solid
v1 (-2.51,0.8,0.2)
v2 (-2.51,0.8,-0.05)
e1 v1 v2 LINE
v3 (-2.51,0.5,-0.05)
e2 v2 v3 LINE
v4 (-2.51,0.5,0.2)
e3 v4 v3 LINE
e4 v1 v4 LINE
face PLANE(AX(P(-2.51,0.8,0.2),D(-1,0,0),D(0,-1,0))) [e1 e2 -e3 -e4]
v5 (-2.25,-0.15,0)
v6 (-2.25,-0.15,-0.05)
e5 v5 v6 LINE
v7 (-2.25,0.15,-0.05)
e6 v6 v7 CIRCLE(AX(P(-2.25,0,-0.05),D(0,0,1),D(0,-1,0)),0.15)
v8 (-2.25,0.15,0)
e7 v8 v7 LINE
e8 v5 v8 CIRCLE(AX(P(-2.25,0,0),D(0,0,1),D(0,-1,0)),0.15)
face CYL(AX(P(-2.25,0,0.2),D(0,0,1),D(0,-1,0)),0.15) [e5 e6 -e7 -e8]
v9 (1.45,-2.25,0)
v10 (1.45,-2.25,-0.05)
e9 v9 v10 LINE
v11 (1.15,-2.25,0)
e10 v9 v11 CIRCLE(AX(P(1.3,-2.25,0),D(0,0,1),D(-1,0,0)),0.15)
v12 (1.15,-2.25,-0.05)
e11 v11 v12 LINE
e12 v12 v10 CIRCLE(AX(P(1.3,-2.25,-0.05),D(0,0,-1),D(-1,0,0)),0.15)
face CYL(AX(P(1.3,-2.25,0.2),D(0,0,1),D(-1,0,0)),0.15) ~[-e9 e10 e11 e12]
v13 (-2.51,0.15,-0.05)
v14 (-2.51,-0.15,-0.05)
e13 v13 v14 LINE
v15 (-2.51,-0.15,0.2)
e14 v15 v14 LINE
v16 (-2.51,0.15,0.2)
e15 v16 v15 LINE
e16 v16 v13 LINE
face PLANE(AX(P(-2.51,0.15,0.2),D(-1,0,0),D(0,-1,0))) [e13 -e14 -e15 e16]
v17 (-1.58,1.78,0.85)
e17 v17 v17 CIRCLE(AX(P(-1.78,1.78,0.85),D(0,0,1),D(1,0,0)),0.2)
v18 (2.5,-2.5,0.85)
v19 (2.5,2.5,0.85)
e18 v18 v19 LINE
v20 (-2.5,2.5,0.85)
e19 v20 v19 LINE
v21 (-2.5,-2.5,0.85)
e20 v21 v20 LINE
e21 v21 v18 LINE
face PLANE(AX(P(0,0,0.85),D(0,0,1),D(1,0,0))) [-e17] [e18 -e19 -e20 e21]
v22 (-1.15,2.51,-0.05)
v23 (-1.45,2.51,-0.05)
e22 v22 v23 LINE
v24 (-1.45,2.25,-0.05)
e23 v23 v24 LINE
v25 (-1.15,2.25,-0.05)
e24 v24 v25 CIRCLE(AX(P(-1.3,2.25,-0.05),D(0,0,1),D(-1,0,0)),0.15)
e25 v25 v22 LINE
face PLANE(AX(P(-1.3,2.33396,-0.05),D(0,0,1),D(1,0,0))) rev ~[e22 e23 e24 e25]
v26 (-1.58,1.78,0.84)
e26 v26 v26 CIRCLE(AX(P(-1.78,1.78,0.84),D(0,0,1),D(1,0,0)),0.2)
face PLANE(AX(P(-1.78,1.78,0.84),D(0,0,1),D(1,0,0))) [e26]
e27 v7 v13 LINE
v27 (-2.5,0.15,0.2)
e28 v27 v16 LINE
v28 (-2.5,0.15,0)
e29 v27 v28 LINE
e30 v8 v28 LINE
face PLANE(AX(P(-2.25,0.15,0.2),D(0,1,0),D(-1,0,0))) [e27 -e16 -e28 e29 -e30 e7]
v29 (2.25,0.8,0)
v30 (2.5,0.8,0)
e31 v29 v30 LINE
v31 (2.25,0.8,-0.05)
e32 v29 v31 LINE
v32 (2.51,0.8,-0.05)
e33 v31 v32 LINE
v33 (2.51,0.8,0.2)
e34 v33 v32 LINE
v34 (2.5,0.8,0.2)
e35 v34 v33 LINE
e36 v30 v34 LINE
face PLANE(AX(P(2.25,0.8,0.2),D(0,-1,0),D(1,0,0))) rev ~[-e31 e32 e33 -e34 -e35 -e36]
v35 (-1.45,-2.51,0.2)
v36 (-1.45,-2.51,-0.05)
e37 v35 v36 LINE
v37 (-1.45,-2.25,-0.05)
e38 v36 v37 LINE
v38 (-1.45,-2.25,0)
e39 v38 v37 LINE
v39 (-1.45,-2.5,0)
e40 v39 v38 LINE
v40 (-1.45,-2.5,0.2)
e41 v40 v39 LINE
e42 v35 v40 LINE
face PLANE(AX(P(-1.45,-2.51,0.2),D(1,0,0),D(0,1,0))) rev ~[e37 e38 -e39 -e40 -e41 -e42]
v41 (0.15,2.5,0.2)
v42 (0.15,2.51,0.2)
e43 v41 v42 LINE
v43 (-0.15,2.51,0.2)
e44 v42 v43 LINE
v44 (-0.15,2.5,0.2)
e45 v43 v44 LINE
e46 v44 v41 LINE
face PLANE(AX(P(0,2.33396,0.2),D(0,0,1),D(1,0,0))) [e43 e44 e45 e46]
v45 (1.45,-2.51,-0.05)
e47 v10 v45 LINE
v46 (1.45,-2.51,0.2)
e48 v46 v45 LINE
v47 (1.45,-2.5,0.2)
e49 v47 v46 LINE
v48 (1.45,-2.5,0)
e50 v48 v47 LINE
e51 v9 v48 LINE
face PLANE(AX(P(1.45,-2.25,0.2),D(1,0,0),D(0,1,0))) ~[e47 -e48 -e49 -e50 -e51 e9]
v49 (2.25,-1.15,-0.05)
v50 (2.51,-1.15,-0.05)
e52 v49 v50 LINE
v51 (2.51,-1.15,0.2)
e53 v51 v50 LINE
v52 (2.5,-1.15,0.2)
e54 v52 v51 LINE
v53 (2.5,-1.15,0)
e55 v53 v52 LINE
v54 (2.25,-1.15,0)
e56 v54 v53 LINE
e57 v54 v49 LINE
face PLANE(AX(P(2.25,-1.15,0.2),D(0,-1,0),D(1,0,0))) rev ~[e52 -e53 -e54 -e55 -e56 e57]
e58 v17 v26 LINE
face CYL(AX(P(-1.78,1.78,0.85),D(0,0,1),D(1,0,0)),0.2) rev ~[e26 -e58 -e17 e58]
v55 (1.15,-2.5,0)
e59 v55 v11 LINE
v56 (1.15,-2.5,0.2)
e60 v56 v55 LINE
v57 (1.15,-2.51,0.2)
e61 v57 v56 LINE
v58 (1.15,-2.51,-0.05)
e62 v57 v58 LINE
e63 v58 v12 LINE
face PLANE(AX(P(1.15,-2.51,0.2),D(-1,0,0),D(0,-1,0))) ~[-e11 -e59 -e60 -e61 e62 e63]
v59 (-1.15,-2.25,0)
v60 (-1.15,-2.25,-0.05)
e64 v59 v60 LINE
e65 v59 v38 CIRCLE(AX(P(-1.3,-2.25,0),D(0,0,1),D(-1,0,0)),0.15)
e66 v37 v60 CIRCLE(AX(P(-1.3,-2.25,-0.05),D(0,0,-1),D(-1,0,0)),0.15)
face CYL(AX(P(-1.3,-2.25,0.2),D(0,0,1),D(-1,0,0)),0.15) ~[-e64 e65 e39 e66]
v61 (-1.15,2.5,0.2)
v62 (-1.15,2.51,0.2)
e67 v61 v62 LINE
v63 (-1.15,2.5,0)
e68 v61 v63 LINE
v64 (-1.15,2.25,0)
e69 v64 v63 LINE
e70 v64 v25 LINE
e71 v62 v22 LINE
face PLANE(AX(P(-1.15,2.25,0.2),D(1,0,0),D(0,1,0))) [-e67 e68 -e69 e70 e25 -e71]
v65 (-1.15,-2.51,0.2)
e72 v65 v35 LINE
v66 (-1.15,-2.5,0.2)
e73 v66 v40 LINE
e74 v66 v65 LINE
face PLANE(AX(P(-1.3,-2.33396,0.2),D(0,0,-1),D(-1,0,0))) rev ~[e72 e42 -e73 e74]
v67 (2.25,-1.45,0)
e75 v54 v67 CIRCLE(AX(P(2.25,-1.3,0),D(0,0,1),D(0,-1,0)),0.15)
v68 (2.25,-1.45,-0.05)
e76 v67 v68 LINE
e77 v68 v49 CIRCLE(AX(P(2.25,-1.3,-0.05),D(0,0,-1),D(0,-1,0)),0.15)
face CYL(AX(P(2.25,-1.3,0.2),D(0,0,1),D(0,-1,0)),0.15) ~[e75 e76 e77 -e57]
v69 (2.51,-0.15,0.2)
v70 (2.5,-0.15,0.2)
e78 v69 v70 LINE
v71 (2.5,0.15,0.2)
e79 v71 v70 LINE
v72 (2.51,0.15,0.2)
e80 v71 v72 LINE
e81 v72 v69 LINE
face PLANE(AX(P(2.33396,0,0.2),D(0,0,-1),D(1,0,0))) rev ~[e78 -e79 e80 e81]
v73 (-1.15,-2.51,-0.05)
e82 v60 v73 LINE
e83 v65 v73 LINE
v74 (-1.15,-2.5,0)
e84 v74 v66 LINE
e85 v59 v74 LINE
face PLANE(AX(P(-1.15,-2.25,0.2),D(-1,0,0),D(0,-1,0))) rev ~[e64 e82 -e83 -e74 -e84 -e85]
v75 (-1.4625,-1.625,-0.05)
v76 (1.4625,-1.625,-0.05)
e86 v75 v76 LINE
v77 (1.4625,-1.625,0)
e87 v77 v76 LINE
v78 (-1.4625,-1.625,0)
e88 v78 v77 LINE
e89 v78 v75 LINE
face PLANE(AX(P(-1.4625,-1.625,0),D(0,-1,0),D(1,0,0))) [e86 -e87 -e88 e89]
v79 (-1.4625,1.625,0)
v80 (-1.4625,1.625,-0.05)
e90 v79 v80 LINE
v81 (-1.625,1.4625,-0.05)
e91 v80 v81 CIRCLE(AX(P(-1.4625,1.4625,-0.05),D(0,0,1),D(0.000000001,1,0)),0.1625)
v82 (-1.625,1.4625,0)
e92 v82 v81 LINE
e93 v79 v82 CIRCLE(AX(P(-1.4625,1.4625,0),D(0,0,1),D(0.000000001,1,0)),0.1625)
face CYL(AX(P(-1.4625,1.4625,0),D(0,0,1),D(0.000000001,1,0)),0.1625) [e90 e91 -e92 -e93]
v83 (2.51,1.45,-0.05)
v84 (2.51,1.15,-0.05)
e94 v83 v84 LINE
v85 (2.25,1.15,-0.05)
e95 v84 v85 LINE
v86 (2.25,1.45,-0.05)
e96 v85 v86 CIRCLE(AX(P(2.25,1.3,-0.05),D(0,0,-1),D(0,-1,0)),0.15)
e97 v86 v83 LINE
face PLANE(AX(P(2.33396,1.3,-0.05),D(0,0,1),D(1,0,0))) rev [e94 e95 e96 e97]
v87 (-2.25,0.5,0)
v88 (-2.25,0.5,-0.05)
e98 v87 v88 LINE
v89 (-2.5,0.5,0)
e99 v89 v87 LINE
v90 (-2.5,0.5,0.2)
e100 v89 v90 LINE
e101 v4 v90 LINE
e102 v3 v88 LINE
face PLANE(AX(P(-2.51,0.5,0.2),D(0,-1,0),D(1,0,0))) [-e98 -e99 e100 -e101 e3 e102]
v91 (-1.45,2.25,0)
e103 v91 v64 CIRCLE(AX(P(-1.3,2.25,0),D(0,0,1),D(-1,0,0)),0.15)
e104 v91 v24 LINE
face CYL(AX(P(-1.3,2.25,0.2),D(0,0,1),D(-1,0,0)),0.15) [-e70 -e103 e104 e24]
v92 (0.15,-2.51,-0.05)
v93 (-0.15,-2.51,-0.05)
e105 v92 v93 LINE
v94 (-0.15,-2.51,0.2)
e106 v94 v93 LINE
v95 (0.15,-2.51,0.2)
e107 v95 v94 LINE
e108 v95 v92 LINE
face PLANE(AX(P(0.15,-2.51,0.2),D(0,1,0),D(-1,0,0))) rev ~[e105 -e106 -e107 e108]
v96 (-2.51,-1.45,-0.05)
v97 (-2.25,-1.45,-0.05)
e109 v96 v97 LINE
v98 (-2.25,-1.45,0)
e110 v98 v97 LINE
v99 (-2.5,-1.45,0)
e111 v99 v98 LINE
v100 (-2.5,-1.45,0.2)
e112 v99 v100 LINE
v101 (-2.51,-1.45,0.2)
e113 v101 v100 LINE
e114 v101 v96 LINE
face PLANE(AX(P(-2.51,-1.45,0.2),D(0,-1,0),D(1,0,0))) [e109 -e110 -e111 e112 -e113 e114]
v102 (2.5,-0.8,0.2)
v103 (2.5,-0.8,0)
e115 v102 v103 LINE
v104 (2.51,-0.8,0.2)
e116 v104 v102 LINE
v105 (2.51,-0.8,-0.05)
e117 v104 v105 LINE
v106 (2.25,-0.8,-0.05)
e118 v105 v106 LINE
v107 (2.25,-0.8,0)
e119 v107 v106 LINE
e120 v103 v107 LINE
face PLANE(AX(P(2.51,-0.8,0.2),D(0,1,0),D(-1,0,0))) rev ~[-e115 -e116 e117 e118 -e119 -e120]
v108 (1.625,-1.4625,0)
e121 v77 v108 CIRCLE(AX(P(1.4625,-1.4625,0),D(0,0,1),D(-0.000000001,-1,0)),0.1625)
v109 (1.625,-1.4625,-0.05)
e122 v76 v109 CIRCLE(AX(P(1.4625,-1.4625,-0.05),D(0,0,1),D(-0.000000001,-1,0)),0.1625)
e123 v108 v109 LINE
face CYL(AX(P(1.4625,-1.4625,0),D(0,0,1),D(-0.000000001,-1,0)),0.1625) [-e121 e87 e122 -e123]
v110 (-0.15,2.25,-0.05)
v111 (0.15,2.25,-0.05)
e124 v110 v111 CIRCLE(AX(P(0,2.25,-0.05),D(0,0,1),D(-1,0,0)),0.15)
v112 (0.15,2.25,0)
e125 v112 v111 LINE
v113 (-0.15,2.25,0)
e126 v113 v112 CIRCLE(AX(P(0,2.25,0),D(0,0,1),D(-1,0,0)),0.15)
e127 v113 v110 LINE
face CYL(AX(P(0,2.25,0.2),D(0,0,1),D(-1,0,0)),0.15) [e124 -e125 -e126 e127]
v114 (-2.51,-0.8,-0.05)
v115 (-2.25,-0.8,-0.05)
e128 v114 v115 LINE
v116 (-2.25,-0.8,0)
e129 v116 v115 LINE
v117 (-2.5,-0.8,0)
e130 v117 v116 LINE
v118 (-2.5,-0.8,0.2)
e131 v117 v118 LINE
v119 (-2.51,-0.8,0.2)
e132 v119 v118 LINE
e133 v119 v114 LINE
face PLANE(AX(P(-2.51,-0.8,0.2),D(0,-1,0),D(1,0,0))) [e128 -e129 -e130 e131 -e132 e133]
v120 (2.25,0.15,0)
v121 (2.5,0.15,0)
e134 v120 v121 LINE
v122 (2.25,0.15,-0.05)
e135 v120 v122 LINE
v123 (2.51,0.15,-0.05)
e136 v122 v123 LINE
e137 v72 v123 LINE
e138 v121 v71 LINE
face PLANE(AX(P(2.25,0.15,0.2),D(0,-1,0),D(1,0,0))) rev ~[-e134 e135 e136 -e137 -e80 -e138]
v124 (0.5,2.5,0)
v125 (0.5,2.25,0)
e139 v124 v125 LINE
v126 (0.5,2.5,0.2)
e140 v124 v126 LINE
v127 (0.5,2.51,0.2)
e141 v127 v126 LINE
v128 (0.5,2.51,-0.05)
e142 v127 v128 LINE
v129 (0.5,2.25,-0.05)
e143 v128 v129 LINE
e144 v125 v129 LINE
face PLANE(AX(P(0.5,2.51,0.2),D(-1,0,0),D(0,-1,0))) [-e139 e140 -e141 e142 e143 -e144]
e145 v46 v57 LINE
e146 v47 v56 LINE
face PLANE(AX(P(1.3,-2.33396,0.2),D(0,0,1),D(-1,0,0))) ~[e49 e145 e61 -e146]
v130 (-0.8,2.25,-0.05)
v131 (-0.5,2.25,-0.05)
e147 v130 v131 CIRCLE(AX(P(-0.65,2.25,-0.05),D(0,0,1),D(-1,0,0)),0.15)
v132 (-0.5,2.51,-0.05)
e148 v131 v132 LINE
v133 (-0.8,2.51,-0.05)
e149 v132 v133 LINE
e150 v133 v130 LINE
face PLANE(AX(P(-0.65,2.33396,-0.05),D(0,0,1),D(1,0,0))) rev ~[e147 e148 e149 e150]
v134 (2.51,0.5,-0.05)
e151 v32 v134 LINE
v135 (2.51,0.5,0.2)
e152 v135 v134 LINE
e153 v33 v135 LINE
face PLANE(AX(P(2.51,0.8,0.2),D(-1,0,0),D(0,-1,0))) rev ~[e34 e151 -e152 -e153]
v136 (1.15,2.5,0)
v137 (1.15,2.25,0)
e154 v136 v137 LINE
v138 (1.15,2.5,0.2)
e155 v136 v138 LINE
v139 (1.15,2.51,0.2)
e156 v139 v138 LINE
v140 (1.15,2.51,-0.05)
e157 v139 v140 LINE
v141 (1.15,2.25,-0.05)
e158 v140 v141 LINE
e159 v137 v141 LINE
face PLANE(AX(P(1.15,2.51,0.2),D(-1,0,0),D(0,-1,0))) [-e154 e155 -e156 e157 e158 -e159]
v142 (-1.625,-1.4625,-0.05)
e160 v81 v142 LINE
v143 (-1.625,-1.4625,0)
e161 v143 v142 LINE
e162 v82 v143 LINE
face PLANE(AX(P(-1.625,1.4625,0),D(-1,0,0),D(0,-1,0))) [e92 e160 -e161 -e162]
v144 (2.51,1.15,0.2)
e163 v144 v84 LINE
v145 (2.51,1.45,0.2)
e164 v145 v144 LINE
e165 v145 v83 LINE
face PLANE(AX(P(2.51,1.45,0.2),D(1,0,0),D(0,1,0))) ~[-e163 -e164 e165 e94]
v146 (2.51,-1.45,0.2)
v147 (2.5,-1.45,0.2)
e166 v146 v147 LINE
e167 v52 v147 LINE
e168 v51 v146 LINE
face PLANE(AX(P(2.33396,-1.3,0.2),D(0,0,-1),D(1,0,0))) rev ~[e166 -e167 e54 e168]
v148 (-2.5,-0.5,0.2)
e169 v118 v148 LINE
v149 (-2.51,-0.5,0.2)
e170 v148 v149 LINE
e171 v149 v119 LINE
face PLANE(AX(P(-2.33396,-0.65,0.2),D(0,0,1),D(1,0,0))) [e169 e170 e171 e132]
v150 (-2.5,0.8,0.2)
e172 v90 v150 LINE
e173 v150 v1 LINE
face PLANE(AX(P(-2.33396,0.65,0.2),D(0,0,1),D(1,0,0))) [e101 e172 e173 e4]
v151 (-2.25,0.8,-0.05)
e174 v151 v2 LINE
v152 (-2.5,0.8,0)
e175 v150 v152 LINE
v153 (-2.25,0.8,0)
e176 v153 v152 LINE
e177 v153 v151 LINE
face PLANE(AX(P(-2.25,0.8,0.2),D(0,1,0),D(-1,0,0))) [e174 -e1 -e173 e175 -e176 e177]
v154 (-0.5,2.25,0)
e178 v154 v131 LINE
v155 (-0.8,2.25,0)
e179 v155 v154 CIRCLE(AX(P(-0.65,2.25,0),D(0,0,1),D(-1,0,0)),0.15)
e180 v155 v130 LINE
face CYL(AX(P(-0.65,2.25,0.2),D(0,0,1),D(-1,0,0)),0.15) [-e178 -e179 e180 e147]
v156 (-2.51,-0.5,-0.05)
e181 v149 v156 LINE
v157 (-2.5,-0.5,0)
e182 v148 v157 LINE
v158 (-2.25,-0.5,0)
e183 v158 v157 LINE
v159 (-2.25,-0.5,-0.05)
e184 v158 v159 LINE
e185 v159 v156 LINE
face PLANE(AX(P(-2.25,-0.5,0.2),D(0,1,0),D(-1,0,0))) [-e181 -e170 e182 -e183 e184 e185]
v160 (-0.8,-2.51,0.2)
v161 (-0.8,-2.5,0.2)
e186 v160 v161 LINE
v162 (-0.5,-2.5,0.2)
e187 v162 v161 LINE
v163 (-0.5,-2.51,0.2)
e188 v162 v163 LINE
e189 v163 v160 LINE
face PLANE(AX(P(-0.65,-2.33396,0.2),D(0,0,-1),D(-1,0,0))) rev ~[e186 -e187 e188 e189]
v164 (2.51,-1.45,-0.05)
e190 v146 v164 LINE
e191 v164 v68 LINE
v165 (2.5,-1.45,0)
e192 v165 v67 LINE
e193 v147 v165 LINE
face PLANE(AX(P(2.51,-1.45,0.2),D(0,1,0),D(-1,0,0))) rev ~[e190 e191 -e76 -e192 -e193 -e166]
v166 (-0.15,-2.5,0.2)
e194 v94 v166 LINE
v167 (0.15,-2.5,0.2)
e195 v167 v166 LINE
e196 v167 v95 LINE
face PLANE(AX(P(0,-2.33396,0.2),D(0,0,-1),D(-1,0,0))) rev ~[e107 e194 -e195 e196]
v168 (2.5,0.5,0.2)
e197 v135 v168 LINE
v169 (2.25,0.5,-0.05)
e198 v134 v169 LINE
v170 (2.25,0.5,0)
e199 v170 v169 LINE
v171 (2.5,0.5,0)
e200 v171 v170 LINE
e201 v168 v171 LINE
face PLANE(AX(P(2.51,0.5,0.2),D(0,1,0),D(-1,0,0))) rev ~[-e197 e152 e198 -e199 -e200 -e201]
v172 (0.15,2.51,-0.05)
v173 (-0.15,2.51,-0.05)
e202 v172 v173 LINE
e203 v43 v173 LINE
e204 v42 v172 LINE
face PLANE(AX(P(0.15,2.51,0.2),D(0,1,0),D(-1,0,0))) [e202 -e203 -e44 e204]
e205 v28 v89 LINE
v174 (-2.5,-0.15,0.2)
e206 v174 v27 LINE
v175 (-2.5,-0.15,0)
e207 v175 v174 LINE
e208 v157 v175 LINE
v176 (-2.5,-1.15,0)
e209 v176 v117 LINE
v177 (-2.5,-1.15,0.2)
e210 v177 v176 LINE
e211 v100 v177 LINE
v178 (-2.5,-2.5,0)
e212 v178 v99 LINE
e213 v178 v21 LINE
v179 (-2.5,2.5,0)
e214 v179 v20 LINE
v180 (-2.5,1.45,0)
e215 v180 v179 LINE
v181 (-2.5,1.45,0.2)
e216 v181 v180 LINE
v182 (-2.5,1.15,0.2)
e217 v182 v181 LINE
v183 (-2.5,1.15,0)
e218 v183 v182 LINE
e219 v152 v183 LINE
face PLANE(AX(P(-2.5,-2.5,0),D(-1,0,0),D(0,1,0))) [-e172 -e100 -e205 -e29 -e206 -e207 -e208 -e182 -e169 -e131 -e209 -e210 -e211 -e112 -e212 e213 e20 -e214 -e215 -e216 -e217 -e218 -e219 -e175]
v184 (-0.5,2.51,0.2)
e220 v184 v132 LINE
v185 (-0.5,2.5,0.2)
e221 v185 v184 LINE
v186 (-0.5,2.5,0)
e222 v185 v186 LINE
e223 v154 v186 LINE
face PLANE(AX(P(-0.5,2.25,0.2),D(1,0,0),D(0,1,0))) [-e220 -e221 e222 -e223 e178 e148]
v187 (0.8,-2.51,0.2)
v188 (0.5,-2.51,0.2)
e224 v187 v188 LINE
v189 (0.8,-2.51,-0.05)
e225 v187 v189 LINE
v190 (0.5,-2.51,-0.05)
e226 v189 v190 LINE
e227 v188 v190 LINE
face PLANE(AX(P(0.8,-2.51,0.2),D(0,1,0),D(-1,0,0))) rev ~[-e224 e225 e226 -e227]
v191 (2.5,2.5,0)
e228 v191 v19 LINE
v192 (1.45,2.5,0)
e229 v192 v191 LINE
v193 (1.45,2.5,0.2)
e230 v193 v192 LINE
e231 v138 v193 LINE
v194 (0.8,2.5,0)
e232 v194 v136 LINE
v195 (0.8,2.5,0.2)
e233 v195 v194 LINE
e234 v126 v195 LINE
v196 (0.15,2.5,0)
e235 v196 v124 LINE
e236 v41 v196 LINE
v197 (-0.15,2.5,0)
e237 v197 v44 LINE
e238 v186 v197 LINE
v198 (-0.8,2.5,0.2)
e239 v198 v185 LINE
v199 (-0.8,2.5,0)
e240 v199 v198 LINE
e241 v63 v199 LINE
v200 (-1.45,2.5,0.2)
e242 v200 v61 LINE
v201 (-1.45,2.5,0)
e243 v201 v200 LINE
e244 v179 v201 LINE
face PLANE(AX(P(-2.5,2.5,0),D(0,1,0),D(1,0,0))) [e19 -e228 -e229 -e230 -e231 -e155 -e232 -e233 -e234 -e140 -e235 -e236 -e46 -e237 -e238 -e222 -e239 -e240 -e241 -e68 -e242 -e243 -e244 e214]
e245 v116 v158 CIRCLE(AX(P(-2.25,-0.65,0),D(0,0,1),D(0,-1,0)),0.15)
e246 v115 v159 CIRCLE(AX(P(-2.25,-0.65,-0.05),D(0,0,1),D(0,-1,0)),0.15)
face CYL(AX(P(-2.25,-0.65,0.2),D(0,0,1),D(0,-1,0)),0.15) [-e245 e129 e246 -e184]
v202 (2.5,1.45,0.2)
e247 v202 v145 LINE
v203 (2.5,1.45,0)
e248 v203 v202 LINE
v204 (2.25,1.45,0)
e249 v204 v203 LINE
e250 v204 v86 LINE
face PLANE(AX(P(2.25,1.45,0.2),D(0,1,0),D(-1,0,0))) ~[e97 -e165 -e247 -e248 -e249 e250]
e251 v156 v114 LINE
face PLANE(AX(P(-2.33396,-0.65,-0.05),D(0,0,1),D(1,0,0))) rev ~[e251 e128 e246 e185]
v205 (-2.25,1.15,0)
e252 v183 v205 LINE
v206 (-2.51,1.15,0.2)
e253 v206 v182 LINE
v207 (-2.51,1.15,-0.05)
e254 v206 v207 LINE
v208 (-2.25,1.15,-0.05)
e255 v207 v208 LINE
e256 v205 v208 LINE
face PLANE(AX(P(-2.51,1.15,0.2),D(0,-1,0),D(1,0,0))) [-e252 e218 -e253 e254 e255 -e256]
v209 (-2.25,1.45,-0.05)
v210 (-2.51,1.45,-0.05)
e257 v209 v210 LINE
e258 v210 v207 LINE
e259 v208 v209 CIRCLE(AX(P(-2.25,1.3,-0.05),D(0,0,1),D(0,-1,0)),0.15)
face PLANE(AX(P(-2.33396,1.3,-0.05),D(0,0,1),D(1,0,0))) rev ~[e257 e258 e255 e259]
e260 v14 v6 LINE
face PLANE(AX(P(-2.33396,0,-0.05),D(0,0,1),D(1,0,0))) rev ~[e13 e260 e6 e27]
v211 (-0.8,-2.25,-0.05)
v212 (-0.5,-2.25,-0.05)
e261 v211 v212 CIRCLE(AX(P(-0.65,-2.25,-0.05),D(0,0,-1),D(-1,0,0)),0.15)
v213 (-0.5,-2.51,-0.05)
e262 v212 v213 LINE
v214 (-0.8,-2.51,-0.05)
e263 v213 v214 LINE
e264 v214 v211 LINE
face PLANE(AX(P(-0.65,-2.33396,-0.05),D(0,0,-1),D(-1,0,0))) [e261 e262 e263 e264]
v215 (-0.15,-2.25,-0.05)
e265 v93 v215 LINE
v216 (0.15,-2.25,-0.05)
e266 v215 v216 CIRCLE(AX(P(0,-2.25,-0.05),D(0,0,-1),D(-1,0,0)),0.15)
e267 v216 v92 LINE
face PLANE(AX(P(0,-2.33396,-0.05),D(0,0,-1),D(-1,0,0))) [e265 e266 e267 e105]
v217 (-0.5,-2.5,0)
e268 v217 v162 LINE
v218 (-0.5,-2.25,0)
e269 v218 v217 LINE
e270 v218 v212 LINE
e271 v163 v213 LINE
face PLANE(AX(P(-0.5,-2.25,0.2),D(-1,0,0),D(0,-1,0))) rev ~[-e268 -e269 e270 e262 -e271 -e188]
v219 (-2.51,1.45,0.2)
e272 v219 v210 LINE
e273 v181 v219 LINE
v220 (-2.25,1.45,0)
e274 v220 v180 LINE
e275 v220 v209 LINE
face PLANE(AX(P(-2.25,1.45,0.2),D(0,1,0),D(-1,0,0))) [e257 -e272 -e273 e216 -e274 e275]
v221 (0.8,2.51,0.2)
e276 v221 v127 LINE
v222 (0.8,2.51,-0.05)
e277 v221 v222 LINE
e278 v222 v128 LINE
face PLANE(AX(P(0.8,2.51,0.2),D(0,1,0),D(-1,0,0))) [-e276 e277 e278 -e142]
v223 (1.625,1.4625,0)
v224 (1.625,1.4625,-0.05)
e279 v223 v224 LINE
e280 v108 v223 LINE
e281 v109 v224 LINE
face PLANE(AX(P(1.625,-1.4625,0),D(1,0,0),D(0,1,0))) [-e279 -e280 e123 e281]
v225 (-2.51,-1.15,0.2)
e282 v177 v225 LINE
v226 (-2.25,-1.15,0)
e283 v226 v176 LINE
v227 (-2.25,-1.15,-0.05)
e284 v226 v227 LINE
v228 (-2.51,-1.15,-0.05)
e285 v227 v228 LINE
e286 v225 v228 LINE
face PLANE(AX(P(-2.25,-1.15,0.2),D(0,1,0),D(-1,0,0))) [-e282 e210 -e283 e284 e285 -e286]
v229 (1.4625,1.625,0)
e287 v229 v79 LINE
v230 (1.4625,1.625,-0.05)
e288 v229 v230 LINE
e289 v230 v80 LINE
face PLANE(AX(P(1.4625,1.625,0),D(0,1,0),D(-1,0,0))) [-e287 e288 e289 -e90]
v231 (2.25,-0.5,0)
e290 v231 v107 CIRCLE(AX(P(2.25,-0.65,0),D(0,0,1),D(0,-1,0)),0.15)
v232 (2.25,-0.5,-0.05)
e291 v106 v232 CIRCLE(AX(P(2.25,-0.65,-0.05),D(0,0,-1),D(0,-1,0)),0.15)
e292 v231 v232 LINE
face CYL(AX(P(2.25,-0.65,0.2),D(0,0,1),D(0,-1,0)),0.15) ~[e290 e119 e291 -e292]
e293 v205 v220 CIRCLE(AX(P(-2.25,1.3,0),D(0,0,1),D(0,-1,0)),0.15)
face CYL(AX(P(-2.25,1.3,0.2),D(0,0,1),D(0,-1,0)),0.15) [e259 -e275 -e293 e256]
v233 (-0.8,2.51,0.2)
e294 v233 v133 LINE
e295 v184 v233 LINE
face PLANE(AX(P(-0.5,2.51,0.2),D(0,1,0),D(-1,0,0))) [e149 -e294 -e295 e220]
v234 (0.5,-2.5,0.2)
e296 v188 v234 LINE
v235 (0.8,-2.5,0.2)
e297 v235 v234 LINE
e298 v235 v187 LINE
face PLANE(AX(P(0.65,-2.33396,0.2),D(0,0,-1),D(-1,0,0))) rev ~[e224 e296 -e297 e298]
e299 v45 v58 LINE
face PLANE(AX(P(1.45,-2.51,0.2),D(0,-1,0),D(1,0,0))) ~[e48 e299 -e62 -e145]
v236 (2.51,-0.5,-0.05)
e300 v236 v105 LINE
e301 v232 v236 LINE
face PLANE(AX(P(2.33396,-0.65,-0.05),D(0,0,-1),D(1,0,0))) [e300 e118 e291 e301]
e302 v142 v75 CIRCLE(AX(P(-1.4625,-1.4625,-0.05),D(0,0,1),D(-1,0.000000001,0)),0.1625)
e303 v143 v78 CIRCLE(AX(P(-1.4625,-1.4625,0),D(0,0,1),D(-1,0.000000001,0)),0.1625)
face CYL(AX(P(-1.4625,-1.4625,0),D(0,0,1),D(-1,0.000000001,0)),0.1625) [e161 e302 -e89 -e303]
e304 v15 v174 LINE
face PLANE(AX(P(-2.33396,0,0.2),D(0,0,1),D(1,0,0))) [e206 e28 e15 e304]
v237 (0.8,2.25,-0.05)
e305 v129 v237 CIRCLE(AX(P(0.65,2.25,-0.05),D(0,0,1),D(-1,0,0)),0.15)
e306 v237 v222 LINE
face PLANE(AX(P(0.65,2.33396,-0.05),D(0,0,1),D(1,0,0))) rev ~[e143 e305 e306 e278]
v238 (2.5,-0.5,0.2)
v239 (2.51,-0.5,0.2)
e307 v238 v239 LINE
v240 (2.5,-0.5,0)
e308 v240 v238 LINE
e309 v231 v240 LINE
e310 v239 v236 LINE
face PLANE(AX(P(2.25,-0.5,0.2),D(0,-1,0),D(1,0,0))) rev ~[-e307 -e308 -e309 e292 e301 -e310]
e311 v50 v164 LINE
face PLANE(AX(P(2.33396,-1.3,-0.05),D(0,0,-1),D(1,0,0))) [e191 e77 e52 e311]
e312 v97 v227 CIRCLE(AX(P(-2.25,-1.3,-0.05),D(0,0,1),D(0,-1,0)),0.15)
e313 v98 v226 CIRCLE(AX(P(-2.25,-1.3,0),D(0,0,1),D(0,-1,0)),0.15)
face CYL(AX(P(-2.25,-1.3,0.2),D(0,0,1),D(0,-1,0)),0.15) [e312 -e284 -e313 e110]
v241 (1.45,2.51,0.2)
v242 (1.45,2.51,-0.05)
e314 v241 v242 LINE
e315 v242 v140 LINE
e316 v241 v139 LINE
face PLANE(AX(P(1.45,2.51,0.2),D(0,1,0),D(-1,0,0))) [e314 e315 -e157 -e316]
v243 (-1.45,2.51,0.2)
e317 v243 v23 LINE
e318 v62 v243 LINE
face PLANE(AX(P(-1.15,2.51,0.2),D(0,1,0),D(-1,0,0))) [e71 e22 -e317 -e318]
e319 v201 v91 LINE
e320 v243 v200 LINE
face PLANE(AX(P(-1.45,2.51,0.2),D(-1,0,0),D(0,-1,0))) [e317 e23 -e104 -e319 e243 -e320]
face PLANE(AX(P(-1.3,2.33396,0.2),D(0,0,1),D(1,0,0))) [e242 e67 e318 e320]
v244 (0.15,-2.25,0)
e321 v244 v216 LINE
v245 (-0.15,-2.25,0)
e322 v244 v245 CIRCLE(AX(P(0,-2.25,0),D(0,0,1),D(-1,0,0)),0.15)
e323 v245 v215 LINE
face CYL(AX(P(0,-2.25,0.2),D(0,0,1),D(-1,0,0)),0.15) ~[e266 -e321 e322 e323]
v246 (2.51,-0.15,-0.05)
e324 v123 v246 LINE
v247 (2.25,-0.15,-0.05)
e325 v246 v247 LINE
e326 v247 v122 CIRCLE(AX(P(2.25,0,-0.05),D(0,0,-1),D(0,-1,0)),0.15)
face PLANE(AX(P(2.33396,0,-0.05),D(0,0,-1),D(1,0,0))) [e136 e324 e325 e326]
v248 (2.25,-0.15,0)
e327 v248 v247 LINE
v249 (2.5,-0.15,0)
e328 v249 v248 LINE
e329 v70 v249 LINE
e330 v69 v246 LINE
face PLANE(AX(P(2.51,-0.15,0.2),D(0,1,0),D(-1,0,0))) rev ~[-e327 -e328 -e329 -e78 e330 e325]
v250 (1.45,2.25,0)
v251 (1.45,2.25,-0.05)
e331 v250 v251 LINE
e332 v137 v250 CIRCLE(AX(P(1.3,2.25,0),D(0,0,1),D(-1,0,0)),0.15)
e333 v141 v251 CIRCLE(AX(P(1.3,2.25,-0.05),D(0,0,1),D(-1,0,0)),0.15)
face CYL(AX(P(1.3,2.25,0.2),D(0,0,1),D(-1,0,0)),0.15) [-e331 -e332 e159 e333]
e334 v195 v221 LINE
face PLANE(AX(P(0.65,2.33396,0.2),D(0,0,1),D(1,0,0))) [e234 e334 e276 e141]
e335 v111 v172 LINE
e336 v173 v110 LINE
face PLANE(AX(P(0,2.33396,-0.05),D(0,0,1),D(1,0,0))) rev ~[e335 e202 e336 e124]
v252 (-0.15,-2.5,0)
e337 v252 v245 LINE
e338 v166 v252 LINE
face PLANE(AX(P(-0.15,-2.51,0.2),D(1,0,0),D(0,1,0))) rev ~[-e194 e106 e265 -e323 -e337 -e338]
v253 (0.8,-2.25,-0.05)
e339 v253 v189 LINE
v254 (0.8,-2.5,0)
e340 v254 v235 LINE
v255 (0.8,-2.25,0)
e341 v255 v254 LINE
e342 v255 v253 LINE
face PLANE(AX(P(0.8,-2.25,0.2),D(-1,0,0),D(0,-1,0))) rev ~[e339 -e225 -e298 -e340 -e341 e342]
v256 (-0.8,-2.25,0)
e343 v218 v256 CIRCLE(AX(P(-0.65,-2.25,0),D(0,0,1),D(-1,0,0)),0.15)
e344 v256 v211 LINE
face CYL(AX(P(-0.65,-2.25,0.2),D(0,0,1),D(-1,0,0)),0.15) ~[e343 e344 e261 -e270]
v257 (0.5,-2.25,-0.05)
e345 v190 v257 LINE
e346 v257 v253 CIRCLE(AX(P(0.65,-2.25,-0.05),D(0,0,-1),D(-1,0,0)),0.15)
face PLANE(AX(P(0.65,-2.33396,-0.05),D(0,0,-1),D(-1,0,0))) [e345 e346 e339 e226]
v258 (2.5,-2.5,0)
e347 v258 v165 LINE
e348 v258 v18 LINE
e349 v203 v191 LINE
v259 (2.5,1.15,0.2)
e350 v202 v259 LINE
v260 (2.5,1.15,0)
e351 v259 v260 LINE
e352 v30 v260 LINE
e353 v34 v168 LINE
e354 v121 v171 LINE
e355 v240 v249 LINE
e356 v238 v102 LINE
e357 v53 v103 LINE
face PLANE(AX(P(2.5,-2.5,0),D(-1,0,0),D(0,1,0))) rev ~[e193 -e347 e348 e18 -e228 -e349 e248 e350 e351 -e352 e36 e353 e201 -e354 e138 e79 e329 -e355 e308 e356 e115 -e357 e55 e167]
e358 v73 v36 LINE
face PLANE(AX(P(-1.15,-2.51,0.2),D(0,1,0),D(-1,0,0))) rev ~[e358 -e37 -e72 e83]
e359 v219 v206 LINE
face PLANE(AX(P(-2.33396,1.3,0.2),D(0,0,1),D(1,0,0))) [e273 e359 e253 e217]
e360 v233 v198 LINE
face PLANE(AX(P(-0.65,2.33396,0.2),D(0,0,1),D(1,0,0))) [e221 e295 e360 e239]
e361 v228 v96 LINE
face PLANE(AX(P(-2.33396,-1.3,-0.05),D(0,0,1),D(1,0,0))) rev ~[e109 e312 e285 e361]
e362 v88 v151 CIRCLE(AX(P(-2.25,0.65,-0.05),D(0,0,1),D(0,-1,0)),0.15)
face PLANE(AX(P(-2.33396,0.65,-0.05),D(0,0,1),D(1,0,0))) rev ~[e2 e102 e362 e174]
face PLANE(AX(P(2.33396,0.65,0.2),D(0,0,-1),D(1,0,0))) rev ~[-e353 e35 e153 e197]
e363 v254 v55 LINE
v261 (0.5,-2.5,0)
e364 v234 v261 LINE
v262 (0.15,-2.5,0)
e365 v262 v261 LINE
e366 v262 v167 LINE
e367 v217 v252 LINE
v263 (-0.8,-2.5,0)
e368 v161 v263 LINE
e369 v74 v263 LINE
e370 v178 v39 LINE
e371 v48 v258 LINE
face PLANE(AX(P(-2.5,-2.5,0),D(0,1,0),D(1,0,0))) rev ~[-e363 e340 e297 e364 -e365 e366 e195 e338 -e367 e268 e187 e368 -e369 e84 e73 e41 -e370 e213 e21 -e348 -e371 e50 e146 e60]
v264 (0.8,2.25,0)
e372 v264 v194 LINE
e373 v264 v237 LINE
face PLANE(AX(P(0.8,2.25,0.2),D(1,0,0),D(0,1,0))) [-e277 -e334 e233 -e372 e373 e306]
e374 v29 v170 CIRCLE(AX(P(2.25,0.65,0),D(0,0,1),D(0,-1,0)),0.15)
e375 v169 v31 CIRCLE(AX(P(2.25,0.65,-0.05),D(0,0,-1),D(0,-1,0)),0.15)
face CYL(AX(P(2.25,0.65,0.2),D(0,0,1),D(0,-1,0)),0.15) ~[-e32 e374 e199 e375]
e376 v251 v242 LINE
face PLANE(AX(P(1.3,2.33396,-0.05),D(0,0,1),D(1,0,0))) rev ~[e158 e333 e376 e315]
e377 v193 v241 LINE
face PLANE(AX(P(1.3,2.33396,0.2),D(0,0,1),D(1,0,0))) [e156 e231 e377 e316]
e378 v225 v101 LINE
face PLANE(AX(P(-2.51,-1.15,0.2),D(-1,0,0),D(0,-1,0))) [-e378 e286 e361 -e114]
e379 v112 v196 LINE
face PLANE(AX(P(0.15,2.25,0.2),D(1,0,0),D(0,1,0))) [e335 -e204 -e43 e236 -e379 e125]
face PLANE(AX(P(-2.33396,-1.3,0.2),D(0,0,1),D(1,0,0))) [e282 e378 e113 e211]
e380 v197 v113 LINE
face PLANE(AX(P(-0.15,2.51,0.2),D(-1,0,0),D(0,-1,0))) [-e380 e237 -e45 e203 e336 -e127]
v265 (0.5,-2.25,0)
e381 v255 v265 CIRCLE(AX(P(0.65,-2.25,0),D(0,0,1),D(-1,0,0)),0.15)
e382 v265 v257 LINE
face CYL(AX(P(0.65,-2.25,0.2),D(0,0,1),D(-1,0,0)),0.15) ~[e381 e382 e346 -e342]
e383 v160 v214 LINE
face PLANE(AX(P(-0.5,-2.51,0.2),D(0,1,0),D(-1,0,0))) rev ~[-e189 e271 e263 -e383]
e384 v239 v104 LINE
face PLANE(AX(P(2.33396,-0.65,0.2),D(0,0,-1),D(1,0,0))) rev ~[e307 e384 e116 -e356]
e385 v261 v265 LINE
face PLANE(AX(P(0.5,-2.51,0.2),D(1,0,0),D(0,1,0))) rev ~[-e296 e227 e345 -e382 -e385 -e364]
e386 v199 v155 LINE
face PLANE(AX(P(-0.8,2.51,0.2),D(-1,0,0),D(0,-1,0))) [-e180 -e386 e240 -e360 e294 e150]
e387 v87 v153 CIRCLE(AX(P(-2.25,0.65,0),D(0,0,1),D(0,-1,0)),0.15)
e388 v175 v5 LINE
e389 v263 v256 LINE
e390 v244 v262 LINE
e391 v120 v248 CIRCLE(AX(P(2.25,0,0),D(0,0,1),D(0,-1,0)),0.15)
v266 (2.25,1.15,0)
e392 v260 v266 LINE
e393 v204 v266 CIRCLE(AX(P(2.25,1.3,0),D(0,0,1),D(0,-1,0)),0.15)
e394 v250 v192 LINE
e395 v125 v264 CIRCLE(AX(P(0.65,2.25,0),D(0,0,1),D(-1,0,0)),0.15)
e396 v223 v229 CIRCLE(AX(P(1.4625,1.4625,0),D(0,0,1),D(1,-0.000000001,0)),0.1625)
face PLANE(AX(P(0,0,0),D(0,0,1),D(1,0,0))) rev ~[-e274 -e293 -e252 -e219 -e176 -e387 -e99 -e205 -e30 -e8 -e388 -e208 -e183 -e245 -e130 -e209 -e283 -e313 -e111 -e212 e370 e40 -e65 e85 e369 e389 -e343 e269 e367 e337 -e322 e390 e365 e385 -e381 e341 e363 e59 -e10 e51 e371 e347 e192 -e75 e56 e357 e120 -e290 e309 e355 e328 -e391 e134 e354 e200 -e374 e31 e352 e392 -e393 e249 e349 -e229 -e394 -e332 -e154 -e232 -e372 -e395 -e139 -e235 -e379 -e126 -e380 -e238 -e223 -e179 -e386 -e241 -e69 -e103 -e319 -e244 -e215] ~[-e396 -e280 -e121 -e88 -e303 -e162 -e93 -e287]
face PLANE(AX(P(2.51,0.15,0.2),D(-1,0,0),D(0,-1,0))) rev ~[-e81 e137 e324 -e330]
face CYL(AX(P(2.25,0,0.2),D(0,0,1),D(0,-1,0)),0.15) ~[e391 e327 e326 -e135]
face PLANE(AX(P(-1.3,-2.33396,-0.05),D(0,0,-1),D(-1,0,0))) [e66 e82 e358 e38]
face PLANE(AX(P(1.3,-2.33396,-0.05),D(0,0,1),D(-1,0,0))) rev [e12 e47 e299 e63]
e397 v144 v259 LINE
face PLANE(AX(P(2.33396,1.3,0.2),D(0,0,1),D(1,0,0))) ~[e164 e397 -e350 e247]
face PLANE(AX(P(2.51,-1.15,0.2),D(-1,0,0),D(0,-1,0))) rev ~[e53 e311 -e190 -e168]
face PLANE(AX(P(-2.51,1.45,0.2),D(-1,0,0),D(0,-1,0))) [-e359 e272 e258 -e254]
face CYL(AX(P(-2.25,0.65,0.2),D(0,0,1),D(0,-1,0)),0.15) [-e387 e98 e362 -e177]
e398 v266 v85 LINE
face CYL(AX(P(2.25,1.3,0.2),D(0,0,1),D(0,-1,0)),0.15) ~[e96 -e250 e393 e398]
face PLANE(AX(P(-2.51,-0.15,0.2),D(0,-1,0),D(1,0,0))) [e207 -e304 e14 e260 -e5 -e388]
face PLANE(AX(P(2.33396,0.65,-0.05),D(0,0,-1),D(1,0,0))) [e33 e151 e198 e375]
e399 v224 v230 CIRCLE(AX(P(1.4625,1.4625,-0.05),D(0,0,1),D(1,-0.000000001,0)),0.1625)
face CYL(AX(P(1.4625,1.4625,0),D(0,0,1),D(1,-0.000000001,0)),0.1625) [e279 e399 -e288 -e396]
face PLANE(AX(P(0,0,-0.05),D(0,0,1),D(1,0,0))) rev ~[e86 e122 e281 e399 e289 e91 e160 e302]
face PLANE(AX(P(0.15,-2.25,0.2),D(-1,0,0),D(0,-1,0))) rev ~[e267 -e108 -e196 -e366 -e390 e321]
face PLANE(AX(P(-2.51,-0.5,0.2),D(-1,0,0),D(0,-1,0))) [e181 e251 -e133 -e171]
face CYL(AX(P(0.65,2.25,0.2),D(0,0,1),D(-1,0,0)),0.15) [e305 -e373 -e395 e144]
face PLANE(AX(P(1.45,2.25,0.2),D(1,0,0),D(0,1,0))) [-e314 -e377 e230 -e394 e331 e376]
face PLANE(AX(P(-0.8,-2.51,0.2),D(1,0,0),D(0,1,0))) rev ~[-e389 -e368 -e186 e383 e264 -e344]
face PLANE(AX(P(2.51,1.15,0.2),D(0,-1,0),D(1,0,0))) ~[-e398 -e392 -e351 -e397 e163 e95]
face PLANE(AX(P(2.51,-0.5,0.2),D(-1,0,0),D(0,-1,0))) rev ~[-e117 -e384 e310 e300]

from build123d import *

# Parameters (mm, degrees)
SKETCH1_W            = 5
SKETCH1_H            = 5
BOSS_EXTRUDE1_DEPTH  = 0.85
SKETCH2_R            = 0.2
CUT_EXTRUDE1_DEPTH   = 0.01
BOSS_EXTRUDE2_DEPTH  = 0.05
BOSS_EXTRUDE3_START  = -0.2
BOSS_EXTRUDE3_DEPTH  = 0.25
LPATTERN1_COUNT      = 5
LPATTERN1_PITCH      = 0.65
MIRROR1_START        = -0.2
MIRROR1_COPY_1_DEPTH = 0.25
MIRROR1_COPY_2_DEPTH = 0.25
MIRROR1_COPY_3_DEPTH = 0.25
MIRROR1_COPY_4_DEPTH = 0.25
BOSS_EXTRUDE4_START  = -0.2
BOSS_EXTRUDE4_DEPTH  = 0.25
LPATTERN2_COUNT      = 5
LPATTERN2_PITCH      = 0.65
MIRROR2_START        = -0.2
MIRROR2_COPY_1_DEPTH = 0.25
MIRROR2_COPY_2_DEPTH = 0.25
MIRROR2_COPY_3_DEPTH = 0.25
MIRROR2_COPY_4_DEPTH = 0.25


with BuildPart() as part:
    # Sketch1 → Boss-Extrude1 (new body)
    with BuildSketch(Plane.XY):
        Rectangle(SKETCH1_W, SKETCH1_H)
    extrude(amount=BOSS_EXTRUDE1_DEPTH)

    # Sketch2 → Cut-Extrude1 (cut)
    with BuildSketch(Plane.XY.offset(0.85)):
        with Locations((-1.78, 1.78)):
            Circle(SKETCH2_R)
    extrude(amount=-CUT_EXTRUDE1_DEPTH, mode=Mode.SUBTRACT)

    # Sketch3 → Boss-Extrude2 (add)
    with BuildSketch(Plane(origin=(0, 0, 0), x_dir=(-1, 0, 0), z_dir=(0, 0, -1))):
        with BuildLine():
            Line((1.4625, -1.625), (-1.4625, -1.625))
            ThreePointArc((-1.4625, -1.625), (-1.577404852, -1.577404852), (-1.625, -1.4625))
            Line((-1.625, -1.4625), (-1.625, 1.4625))
            ThreePointArc((-1.625, 1.4625), (-1.577404852, 1.577404852), (-1.4625, 1.625))
            Line((-1.4625, 1.625), (1.4625, 1.625))
            ThreePointArc((1.4625, 1.625), (1.577404852, 1.577404852), (1.625, 1.4625))
            Line((1.625, 1.4625), (1.625, -1.4625))
            ThreePointArc((1.625, -1.4625), (1.577404852, -1.577404852), (1.4625, -1.625))
        make_face()
    extrude(amount=BOSS_EXTRUDE2_DEPTH)

    # Sketch5 → Boss-Extrude3 (add)
    with BuildSketch(Plane(origin=(0, 0, 0), x_dir=(-1, 0, 0), z_dir=(0, 0, -1)).offset(BOSS_EXTRUDE3_START)):
        with BuildLine():
            Line((2.25, 1.45), (2.5, 1.45))
            Line((2.5, 1.45), (2.51, 1.45))
            Line((2.51, 1.45), (2.51, 1.15))
            Line((2.51, 1.15), (2.5, 1.15))
            Line((2.5, 1.15), (2.25, 1.15))
            ThreePointArc((2.25, 1.15), (2.1, 1.3), (2.25, 1.45))
        make_face()
    boss_extrude3 = extrude(amount=BOSS_EXTRUDE3_DEPTH)

    # LPattern1: Boss-Extrude3 ×5
    with Locations(*[(0, -i * LPATTERN1_PITCH, 0) for i in range(1, LPATTERN1_COUNT)]):
        add(boss_extrude3)

    # Mirror1: Boss-Extrude3 across plane
    add(boss_extrude3.mirror(Plane(origin=(0, 0, 0), x_dir=(0, 0, 1), z_dir=(1, 0, 0))))

    # Mirror1 copy 1 sketch → Mirror1 copy 1 (add)
    with BuildSketch(Plane(origin=(0, -0.65, 0), x_dir=(1, 0, 0), z_dir=(0, 0, -1)).offset(MIRROR1_START)):
        with BuildLine():
            Line((2.25, -1.45), (2.5, -1.45))
            Line((2.5, -1.45), (2.51, -1.45))
            Line((2.51, -1.45), (2.51, -1.15))
            Line((2.51, -1.15), (2.5, -1.15))
            Line((2.5, -1.15), (2.25, -1.15))
            ThreePointArc((2.25, -1.15), (2.1, -1.3), (2.25, -1.45))
        make_face()
    extrude(amount=MIRROR1_COPY_1_DEPTH)

    # Mirror1 copy 2 sketch → Mirror1 copy 2 (add)
    with BuildSketch(Plane(origin=(0, -1.3, 0), x_dir=(1, 0, 0), z_dir=(0, 0, -1)).offset(MIRROR1_START)):
        with BuildLine():
            Line((2.25, -1.45), (2.5, -1.45))
            Line((2.5, -1.45), (2.51, -1.45))
            Line((2.51, -1.45), (2.51, -1.15))
            Line((2.51, -1.15), (2.5, -1.15))
            Line((2.5, -1.15), (2.25, -1.15))
            ThreePointArc((2.25, -1.15), (2.1, -1.3), (2.25, -1.45))
        make_face()
    extrude(amount=MIRROR1_COPY_2_DEPTH)

    # Mirror1 copy 3 sketch → Mirror1 copy 3 (add)
    with BuildSketch(Plane(origin=(0, -1.95, 0), x_dir=(1, 0, 0), z_dir=(0, 0, -1)).offset(MIRROR1_START)):
        with BuildLine():
            Line((2.25, -1.45), (2.5, -1.45))
            Line((2.5, -1.45), (2.51, -1.45))
            Line((2.51, -1.45), (2.51, -1.15))
            Line((2.51, -1.15), (2.5, -1.15))
            Line((2.5, -1.15), (2.25, -1.15))
            ThreePointArc((2.25, -1.15), (2.1, -1.3), (2.25, -1.45))
        make_face()
    extrude(amount=MIRROR1_COPY_3_DEPTH)

    # Mirror1 copy 4 sketch → Mirror1 copy 4 (add)
    with BuildSketch(Plane(origin=(0, -2.6, 0), x_dir=(1, 0, 0), z_dir=(0, 0, -1)).offset(MIRROR1_START)):
        with BuildLine():
            Line((2.25, -1.45), (2.5, -1.45))
            Line((2.5, -1.45), (2.51, -1.45))
            Line((2.51, -1.45), (2.51, -1.15))
            Line((2.51, -1.15), (2.5, -1.15))
            Line((2.5, -1.15), (2.25, -1.15))
            ThreePointArc((2.25, -1.15), (2.1, -1.3), (2.25, -1.45))
        make_face()
    extrude(amount=MIRROR1_COPY_4_DEPTH)

    # Sketch6 → Boss-Extrude4 (add)
    with BuildSketch(Plane(origin=(0, 0, 0), x_dir=(-1, 0, 0), z_dir=(0, 0, -1)).offset(BOSS_EXTRUDE4_START)):
        with BuildLine():
            Line((-1.45, 2.51), (-1.15, 2.51))
            Line((-1.15, 2.51), (-1.15, 2.5))
            Line((-1.15, 2.5), (-1.15, 2.25))
            ThreePointArc((-1.15, 2.25), (-1.3, 2.1), (-1.45, 2.25))
            Line((-1.45, 2.25), (-1.45, 2.5))
            Line((-1.45, 2.5), (-1.45, 2.51))
        make_face()
    boss_extrude4 = extrude(amount=BOSS_EXTRUDE4_DEPTH)

    # LPattern2: Boss-Extrude4 ×5
    with Locations(*[(-i * LPATTERN2_PITCH, 0, 0) for i in range(1, LPATTERN2_COUNT)]):
        add(boss_extrude4)

    # Mirror2: Boss-Extrude4 across plane
    add(boss_extrude4.mirror(Plane.ZX))

    # Mirror2 copy 1 sketch → Mirror2 copy 1 (add)
    with BuildSketch(Plane(origin=(-0.65, 0, 0), x_dir=(-1, 0, 0), z_dir=(0, 0, -1)).offset(MIRROR2_START)):
        with BuildLine():
            Line((-1.45, -2.51), (-1.15, -2.51))
            Line((-1.15, -2.51), (-1.15, -2.5))
            Line((-1.15, -2.5), (-1.15, -2.25))
            ThreePointArc((-1.15, -2.25), (-1.3, -2.1), (-1.45, -2.25))
            Line((-1.45, -2.25), (-1.45, -2.5))
            Line((-1.45, -2.5), (-1.45, -2.51))
        make_face()
    extrude(amount=MIRROR2_COPY_1_DEPTH)

    # Mirror2 copy 2 sketch → Mirror2 copy 2 (add)
    with BuildSketch(Plane(origin=(-1.3, 0, 0), x_dir=(-1, 0, 0), z_dir=(0, 0, -1)).offset(MIRROR2_START)):
        with BuildLine():
            Line((-1.45, -2.51), (-1.15, -2.51))
            Line((-1.15, -2.51), (-1.15, -2.5))
            Line((-1.15, -2.5), (-1.15, -2.25))
            ThreePointArc((-1.15, -2.25), (-1.3, -2.1), (-1.45, -2.25))
            Line((-1.45, -2.25), (-1.45, -2.5))
            Line((-1.45, -2.5), (-1.45, -2.51))
        make_face()
    extrude(amount=MIRROR2_COPY_2_DEPTH)

    # Mirror2 copy 3 sketch → Mirror2 copy 3 (add)
    with BuildSketch(Plane(origin=(-1.95, 0, 0), x_dir=(-1, 0, 0), z_dir=(0, 0, -1)).offset(MIRROR2_START)):
        with BuildLine():
            Line((-1.45, -2.51), (-1.15, -2.51))
            Line((-1.15, -2.51), (-1.15, -2.5))
            Line((-1.15, -2.5), (-1.15, -2.25))
            ThreePointArc((-1.15, -2.25), (-1.3, -2.1), (-1.45, -2.25))
            Line((-1.45, -2.25), (-1.45, -2.5))
            Line((-1.45, -2.5), (-1.45, -2.51))
        make_face()
    extrude(amount=MIRROR2_COPY_3_DEPTH)

    # Mirror2 copy 4 sketch → Mirror2 copy 4 (add)
    with BuildSketch(Plane(origin=(-2.6, 0, 0), x_dir=(-1, 0, 0), z_dir=(0, 0, -1)).offset(MIRROR2_START)):
        with BuildLine():
            Line((-1.45, -2.51), (-1.15, -2.51))
            Line((-1.15, -2.51), (-1.15, -2.5))
            Line((-1.15, -2.5), (-1.15, -2.25))
            ThreePointArc((-1.15, -2.25), (-1.3, -2.1), (-1.45, -2.25))
            Line((-1.45, -2.25), (-1.45, -2.5))
            Line((-1.45, -2.5), (-1.45, -2.51))
        make_face()
    extrude(amount=MIRROR2_COPY_4_DEPTH)


solid = part.part
